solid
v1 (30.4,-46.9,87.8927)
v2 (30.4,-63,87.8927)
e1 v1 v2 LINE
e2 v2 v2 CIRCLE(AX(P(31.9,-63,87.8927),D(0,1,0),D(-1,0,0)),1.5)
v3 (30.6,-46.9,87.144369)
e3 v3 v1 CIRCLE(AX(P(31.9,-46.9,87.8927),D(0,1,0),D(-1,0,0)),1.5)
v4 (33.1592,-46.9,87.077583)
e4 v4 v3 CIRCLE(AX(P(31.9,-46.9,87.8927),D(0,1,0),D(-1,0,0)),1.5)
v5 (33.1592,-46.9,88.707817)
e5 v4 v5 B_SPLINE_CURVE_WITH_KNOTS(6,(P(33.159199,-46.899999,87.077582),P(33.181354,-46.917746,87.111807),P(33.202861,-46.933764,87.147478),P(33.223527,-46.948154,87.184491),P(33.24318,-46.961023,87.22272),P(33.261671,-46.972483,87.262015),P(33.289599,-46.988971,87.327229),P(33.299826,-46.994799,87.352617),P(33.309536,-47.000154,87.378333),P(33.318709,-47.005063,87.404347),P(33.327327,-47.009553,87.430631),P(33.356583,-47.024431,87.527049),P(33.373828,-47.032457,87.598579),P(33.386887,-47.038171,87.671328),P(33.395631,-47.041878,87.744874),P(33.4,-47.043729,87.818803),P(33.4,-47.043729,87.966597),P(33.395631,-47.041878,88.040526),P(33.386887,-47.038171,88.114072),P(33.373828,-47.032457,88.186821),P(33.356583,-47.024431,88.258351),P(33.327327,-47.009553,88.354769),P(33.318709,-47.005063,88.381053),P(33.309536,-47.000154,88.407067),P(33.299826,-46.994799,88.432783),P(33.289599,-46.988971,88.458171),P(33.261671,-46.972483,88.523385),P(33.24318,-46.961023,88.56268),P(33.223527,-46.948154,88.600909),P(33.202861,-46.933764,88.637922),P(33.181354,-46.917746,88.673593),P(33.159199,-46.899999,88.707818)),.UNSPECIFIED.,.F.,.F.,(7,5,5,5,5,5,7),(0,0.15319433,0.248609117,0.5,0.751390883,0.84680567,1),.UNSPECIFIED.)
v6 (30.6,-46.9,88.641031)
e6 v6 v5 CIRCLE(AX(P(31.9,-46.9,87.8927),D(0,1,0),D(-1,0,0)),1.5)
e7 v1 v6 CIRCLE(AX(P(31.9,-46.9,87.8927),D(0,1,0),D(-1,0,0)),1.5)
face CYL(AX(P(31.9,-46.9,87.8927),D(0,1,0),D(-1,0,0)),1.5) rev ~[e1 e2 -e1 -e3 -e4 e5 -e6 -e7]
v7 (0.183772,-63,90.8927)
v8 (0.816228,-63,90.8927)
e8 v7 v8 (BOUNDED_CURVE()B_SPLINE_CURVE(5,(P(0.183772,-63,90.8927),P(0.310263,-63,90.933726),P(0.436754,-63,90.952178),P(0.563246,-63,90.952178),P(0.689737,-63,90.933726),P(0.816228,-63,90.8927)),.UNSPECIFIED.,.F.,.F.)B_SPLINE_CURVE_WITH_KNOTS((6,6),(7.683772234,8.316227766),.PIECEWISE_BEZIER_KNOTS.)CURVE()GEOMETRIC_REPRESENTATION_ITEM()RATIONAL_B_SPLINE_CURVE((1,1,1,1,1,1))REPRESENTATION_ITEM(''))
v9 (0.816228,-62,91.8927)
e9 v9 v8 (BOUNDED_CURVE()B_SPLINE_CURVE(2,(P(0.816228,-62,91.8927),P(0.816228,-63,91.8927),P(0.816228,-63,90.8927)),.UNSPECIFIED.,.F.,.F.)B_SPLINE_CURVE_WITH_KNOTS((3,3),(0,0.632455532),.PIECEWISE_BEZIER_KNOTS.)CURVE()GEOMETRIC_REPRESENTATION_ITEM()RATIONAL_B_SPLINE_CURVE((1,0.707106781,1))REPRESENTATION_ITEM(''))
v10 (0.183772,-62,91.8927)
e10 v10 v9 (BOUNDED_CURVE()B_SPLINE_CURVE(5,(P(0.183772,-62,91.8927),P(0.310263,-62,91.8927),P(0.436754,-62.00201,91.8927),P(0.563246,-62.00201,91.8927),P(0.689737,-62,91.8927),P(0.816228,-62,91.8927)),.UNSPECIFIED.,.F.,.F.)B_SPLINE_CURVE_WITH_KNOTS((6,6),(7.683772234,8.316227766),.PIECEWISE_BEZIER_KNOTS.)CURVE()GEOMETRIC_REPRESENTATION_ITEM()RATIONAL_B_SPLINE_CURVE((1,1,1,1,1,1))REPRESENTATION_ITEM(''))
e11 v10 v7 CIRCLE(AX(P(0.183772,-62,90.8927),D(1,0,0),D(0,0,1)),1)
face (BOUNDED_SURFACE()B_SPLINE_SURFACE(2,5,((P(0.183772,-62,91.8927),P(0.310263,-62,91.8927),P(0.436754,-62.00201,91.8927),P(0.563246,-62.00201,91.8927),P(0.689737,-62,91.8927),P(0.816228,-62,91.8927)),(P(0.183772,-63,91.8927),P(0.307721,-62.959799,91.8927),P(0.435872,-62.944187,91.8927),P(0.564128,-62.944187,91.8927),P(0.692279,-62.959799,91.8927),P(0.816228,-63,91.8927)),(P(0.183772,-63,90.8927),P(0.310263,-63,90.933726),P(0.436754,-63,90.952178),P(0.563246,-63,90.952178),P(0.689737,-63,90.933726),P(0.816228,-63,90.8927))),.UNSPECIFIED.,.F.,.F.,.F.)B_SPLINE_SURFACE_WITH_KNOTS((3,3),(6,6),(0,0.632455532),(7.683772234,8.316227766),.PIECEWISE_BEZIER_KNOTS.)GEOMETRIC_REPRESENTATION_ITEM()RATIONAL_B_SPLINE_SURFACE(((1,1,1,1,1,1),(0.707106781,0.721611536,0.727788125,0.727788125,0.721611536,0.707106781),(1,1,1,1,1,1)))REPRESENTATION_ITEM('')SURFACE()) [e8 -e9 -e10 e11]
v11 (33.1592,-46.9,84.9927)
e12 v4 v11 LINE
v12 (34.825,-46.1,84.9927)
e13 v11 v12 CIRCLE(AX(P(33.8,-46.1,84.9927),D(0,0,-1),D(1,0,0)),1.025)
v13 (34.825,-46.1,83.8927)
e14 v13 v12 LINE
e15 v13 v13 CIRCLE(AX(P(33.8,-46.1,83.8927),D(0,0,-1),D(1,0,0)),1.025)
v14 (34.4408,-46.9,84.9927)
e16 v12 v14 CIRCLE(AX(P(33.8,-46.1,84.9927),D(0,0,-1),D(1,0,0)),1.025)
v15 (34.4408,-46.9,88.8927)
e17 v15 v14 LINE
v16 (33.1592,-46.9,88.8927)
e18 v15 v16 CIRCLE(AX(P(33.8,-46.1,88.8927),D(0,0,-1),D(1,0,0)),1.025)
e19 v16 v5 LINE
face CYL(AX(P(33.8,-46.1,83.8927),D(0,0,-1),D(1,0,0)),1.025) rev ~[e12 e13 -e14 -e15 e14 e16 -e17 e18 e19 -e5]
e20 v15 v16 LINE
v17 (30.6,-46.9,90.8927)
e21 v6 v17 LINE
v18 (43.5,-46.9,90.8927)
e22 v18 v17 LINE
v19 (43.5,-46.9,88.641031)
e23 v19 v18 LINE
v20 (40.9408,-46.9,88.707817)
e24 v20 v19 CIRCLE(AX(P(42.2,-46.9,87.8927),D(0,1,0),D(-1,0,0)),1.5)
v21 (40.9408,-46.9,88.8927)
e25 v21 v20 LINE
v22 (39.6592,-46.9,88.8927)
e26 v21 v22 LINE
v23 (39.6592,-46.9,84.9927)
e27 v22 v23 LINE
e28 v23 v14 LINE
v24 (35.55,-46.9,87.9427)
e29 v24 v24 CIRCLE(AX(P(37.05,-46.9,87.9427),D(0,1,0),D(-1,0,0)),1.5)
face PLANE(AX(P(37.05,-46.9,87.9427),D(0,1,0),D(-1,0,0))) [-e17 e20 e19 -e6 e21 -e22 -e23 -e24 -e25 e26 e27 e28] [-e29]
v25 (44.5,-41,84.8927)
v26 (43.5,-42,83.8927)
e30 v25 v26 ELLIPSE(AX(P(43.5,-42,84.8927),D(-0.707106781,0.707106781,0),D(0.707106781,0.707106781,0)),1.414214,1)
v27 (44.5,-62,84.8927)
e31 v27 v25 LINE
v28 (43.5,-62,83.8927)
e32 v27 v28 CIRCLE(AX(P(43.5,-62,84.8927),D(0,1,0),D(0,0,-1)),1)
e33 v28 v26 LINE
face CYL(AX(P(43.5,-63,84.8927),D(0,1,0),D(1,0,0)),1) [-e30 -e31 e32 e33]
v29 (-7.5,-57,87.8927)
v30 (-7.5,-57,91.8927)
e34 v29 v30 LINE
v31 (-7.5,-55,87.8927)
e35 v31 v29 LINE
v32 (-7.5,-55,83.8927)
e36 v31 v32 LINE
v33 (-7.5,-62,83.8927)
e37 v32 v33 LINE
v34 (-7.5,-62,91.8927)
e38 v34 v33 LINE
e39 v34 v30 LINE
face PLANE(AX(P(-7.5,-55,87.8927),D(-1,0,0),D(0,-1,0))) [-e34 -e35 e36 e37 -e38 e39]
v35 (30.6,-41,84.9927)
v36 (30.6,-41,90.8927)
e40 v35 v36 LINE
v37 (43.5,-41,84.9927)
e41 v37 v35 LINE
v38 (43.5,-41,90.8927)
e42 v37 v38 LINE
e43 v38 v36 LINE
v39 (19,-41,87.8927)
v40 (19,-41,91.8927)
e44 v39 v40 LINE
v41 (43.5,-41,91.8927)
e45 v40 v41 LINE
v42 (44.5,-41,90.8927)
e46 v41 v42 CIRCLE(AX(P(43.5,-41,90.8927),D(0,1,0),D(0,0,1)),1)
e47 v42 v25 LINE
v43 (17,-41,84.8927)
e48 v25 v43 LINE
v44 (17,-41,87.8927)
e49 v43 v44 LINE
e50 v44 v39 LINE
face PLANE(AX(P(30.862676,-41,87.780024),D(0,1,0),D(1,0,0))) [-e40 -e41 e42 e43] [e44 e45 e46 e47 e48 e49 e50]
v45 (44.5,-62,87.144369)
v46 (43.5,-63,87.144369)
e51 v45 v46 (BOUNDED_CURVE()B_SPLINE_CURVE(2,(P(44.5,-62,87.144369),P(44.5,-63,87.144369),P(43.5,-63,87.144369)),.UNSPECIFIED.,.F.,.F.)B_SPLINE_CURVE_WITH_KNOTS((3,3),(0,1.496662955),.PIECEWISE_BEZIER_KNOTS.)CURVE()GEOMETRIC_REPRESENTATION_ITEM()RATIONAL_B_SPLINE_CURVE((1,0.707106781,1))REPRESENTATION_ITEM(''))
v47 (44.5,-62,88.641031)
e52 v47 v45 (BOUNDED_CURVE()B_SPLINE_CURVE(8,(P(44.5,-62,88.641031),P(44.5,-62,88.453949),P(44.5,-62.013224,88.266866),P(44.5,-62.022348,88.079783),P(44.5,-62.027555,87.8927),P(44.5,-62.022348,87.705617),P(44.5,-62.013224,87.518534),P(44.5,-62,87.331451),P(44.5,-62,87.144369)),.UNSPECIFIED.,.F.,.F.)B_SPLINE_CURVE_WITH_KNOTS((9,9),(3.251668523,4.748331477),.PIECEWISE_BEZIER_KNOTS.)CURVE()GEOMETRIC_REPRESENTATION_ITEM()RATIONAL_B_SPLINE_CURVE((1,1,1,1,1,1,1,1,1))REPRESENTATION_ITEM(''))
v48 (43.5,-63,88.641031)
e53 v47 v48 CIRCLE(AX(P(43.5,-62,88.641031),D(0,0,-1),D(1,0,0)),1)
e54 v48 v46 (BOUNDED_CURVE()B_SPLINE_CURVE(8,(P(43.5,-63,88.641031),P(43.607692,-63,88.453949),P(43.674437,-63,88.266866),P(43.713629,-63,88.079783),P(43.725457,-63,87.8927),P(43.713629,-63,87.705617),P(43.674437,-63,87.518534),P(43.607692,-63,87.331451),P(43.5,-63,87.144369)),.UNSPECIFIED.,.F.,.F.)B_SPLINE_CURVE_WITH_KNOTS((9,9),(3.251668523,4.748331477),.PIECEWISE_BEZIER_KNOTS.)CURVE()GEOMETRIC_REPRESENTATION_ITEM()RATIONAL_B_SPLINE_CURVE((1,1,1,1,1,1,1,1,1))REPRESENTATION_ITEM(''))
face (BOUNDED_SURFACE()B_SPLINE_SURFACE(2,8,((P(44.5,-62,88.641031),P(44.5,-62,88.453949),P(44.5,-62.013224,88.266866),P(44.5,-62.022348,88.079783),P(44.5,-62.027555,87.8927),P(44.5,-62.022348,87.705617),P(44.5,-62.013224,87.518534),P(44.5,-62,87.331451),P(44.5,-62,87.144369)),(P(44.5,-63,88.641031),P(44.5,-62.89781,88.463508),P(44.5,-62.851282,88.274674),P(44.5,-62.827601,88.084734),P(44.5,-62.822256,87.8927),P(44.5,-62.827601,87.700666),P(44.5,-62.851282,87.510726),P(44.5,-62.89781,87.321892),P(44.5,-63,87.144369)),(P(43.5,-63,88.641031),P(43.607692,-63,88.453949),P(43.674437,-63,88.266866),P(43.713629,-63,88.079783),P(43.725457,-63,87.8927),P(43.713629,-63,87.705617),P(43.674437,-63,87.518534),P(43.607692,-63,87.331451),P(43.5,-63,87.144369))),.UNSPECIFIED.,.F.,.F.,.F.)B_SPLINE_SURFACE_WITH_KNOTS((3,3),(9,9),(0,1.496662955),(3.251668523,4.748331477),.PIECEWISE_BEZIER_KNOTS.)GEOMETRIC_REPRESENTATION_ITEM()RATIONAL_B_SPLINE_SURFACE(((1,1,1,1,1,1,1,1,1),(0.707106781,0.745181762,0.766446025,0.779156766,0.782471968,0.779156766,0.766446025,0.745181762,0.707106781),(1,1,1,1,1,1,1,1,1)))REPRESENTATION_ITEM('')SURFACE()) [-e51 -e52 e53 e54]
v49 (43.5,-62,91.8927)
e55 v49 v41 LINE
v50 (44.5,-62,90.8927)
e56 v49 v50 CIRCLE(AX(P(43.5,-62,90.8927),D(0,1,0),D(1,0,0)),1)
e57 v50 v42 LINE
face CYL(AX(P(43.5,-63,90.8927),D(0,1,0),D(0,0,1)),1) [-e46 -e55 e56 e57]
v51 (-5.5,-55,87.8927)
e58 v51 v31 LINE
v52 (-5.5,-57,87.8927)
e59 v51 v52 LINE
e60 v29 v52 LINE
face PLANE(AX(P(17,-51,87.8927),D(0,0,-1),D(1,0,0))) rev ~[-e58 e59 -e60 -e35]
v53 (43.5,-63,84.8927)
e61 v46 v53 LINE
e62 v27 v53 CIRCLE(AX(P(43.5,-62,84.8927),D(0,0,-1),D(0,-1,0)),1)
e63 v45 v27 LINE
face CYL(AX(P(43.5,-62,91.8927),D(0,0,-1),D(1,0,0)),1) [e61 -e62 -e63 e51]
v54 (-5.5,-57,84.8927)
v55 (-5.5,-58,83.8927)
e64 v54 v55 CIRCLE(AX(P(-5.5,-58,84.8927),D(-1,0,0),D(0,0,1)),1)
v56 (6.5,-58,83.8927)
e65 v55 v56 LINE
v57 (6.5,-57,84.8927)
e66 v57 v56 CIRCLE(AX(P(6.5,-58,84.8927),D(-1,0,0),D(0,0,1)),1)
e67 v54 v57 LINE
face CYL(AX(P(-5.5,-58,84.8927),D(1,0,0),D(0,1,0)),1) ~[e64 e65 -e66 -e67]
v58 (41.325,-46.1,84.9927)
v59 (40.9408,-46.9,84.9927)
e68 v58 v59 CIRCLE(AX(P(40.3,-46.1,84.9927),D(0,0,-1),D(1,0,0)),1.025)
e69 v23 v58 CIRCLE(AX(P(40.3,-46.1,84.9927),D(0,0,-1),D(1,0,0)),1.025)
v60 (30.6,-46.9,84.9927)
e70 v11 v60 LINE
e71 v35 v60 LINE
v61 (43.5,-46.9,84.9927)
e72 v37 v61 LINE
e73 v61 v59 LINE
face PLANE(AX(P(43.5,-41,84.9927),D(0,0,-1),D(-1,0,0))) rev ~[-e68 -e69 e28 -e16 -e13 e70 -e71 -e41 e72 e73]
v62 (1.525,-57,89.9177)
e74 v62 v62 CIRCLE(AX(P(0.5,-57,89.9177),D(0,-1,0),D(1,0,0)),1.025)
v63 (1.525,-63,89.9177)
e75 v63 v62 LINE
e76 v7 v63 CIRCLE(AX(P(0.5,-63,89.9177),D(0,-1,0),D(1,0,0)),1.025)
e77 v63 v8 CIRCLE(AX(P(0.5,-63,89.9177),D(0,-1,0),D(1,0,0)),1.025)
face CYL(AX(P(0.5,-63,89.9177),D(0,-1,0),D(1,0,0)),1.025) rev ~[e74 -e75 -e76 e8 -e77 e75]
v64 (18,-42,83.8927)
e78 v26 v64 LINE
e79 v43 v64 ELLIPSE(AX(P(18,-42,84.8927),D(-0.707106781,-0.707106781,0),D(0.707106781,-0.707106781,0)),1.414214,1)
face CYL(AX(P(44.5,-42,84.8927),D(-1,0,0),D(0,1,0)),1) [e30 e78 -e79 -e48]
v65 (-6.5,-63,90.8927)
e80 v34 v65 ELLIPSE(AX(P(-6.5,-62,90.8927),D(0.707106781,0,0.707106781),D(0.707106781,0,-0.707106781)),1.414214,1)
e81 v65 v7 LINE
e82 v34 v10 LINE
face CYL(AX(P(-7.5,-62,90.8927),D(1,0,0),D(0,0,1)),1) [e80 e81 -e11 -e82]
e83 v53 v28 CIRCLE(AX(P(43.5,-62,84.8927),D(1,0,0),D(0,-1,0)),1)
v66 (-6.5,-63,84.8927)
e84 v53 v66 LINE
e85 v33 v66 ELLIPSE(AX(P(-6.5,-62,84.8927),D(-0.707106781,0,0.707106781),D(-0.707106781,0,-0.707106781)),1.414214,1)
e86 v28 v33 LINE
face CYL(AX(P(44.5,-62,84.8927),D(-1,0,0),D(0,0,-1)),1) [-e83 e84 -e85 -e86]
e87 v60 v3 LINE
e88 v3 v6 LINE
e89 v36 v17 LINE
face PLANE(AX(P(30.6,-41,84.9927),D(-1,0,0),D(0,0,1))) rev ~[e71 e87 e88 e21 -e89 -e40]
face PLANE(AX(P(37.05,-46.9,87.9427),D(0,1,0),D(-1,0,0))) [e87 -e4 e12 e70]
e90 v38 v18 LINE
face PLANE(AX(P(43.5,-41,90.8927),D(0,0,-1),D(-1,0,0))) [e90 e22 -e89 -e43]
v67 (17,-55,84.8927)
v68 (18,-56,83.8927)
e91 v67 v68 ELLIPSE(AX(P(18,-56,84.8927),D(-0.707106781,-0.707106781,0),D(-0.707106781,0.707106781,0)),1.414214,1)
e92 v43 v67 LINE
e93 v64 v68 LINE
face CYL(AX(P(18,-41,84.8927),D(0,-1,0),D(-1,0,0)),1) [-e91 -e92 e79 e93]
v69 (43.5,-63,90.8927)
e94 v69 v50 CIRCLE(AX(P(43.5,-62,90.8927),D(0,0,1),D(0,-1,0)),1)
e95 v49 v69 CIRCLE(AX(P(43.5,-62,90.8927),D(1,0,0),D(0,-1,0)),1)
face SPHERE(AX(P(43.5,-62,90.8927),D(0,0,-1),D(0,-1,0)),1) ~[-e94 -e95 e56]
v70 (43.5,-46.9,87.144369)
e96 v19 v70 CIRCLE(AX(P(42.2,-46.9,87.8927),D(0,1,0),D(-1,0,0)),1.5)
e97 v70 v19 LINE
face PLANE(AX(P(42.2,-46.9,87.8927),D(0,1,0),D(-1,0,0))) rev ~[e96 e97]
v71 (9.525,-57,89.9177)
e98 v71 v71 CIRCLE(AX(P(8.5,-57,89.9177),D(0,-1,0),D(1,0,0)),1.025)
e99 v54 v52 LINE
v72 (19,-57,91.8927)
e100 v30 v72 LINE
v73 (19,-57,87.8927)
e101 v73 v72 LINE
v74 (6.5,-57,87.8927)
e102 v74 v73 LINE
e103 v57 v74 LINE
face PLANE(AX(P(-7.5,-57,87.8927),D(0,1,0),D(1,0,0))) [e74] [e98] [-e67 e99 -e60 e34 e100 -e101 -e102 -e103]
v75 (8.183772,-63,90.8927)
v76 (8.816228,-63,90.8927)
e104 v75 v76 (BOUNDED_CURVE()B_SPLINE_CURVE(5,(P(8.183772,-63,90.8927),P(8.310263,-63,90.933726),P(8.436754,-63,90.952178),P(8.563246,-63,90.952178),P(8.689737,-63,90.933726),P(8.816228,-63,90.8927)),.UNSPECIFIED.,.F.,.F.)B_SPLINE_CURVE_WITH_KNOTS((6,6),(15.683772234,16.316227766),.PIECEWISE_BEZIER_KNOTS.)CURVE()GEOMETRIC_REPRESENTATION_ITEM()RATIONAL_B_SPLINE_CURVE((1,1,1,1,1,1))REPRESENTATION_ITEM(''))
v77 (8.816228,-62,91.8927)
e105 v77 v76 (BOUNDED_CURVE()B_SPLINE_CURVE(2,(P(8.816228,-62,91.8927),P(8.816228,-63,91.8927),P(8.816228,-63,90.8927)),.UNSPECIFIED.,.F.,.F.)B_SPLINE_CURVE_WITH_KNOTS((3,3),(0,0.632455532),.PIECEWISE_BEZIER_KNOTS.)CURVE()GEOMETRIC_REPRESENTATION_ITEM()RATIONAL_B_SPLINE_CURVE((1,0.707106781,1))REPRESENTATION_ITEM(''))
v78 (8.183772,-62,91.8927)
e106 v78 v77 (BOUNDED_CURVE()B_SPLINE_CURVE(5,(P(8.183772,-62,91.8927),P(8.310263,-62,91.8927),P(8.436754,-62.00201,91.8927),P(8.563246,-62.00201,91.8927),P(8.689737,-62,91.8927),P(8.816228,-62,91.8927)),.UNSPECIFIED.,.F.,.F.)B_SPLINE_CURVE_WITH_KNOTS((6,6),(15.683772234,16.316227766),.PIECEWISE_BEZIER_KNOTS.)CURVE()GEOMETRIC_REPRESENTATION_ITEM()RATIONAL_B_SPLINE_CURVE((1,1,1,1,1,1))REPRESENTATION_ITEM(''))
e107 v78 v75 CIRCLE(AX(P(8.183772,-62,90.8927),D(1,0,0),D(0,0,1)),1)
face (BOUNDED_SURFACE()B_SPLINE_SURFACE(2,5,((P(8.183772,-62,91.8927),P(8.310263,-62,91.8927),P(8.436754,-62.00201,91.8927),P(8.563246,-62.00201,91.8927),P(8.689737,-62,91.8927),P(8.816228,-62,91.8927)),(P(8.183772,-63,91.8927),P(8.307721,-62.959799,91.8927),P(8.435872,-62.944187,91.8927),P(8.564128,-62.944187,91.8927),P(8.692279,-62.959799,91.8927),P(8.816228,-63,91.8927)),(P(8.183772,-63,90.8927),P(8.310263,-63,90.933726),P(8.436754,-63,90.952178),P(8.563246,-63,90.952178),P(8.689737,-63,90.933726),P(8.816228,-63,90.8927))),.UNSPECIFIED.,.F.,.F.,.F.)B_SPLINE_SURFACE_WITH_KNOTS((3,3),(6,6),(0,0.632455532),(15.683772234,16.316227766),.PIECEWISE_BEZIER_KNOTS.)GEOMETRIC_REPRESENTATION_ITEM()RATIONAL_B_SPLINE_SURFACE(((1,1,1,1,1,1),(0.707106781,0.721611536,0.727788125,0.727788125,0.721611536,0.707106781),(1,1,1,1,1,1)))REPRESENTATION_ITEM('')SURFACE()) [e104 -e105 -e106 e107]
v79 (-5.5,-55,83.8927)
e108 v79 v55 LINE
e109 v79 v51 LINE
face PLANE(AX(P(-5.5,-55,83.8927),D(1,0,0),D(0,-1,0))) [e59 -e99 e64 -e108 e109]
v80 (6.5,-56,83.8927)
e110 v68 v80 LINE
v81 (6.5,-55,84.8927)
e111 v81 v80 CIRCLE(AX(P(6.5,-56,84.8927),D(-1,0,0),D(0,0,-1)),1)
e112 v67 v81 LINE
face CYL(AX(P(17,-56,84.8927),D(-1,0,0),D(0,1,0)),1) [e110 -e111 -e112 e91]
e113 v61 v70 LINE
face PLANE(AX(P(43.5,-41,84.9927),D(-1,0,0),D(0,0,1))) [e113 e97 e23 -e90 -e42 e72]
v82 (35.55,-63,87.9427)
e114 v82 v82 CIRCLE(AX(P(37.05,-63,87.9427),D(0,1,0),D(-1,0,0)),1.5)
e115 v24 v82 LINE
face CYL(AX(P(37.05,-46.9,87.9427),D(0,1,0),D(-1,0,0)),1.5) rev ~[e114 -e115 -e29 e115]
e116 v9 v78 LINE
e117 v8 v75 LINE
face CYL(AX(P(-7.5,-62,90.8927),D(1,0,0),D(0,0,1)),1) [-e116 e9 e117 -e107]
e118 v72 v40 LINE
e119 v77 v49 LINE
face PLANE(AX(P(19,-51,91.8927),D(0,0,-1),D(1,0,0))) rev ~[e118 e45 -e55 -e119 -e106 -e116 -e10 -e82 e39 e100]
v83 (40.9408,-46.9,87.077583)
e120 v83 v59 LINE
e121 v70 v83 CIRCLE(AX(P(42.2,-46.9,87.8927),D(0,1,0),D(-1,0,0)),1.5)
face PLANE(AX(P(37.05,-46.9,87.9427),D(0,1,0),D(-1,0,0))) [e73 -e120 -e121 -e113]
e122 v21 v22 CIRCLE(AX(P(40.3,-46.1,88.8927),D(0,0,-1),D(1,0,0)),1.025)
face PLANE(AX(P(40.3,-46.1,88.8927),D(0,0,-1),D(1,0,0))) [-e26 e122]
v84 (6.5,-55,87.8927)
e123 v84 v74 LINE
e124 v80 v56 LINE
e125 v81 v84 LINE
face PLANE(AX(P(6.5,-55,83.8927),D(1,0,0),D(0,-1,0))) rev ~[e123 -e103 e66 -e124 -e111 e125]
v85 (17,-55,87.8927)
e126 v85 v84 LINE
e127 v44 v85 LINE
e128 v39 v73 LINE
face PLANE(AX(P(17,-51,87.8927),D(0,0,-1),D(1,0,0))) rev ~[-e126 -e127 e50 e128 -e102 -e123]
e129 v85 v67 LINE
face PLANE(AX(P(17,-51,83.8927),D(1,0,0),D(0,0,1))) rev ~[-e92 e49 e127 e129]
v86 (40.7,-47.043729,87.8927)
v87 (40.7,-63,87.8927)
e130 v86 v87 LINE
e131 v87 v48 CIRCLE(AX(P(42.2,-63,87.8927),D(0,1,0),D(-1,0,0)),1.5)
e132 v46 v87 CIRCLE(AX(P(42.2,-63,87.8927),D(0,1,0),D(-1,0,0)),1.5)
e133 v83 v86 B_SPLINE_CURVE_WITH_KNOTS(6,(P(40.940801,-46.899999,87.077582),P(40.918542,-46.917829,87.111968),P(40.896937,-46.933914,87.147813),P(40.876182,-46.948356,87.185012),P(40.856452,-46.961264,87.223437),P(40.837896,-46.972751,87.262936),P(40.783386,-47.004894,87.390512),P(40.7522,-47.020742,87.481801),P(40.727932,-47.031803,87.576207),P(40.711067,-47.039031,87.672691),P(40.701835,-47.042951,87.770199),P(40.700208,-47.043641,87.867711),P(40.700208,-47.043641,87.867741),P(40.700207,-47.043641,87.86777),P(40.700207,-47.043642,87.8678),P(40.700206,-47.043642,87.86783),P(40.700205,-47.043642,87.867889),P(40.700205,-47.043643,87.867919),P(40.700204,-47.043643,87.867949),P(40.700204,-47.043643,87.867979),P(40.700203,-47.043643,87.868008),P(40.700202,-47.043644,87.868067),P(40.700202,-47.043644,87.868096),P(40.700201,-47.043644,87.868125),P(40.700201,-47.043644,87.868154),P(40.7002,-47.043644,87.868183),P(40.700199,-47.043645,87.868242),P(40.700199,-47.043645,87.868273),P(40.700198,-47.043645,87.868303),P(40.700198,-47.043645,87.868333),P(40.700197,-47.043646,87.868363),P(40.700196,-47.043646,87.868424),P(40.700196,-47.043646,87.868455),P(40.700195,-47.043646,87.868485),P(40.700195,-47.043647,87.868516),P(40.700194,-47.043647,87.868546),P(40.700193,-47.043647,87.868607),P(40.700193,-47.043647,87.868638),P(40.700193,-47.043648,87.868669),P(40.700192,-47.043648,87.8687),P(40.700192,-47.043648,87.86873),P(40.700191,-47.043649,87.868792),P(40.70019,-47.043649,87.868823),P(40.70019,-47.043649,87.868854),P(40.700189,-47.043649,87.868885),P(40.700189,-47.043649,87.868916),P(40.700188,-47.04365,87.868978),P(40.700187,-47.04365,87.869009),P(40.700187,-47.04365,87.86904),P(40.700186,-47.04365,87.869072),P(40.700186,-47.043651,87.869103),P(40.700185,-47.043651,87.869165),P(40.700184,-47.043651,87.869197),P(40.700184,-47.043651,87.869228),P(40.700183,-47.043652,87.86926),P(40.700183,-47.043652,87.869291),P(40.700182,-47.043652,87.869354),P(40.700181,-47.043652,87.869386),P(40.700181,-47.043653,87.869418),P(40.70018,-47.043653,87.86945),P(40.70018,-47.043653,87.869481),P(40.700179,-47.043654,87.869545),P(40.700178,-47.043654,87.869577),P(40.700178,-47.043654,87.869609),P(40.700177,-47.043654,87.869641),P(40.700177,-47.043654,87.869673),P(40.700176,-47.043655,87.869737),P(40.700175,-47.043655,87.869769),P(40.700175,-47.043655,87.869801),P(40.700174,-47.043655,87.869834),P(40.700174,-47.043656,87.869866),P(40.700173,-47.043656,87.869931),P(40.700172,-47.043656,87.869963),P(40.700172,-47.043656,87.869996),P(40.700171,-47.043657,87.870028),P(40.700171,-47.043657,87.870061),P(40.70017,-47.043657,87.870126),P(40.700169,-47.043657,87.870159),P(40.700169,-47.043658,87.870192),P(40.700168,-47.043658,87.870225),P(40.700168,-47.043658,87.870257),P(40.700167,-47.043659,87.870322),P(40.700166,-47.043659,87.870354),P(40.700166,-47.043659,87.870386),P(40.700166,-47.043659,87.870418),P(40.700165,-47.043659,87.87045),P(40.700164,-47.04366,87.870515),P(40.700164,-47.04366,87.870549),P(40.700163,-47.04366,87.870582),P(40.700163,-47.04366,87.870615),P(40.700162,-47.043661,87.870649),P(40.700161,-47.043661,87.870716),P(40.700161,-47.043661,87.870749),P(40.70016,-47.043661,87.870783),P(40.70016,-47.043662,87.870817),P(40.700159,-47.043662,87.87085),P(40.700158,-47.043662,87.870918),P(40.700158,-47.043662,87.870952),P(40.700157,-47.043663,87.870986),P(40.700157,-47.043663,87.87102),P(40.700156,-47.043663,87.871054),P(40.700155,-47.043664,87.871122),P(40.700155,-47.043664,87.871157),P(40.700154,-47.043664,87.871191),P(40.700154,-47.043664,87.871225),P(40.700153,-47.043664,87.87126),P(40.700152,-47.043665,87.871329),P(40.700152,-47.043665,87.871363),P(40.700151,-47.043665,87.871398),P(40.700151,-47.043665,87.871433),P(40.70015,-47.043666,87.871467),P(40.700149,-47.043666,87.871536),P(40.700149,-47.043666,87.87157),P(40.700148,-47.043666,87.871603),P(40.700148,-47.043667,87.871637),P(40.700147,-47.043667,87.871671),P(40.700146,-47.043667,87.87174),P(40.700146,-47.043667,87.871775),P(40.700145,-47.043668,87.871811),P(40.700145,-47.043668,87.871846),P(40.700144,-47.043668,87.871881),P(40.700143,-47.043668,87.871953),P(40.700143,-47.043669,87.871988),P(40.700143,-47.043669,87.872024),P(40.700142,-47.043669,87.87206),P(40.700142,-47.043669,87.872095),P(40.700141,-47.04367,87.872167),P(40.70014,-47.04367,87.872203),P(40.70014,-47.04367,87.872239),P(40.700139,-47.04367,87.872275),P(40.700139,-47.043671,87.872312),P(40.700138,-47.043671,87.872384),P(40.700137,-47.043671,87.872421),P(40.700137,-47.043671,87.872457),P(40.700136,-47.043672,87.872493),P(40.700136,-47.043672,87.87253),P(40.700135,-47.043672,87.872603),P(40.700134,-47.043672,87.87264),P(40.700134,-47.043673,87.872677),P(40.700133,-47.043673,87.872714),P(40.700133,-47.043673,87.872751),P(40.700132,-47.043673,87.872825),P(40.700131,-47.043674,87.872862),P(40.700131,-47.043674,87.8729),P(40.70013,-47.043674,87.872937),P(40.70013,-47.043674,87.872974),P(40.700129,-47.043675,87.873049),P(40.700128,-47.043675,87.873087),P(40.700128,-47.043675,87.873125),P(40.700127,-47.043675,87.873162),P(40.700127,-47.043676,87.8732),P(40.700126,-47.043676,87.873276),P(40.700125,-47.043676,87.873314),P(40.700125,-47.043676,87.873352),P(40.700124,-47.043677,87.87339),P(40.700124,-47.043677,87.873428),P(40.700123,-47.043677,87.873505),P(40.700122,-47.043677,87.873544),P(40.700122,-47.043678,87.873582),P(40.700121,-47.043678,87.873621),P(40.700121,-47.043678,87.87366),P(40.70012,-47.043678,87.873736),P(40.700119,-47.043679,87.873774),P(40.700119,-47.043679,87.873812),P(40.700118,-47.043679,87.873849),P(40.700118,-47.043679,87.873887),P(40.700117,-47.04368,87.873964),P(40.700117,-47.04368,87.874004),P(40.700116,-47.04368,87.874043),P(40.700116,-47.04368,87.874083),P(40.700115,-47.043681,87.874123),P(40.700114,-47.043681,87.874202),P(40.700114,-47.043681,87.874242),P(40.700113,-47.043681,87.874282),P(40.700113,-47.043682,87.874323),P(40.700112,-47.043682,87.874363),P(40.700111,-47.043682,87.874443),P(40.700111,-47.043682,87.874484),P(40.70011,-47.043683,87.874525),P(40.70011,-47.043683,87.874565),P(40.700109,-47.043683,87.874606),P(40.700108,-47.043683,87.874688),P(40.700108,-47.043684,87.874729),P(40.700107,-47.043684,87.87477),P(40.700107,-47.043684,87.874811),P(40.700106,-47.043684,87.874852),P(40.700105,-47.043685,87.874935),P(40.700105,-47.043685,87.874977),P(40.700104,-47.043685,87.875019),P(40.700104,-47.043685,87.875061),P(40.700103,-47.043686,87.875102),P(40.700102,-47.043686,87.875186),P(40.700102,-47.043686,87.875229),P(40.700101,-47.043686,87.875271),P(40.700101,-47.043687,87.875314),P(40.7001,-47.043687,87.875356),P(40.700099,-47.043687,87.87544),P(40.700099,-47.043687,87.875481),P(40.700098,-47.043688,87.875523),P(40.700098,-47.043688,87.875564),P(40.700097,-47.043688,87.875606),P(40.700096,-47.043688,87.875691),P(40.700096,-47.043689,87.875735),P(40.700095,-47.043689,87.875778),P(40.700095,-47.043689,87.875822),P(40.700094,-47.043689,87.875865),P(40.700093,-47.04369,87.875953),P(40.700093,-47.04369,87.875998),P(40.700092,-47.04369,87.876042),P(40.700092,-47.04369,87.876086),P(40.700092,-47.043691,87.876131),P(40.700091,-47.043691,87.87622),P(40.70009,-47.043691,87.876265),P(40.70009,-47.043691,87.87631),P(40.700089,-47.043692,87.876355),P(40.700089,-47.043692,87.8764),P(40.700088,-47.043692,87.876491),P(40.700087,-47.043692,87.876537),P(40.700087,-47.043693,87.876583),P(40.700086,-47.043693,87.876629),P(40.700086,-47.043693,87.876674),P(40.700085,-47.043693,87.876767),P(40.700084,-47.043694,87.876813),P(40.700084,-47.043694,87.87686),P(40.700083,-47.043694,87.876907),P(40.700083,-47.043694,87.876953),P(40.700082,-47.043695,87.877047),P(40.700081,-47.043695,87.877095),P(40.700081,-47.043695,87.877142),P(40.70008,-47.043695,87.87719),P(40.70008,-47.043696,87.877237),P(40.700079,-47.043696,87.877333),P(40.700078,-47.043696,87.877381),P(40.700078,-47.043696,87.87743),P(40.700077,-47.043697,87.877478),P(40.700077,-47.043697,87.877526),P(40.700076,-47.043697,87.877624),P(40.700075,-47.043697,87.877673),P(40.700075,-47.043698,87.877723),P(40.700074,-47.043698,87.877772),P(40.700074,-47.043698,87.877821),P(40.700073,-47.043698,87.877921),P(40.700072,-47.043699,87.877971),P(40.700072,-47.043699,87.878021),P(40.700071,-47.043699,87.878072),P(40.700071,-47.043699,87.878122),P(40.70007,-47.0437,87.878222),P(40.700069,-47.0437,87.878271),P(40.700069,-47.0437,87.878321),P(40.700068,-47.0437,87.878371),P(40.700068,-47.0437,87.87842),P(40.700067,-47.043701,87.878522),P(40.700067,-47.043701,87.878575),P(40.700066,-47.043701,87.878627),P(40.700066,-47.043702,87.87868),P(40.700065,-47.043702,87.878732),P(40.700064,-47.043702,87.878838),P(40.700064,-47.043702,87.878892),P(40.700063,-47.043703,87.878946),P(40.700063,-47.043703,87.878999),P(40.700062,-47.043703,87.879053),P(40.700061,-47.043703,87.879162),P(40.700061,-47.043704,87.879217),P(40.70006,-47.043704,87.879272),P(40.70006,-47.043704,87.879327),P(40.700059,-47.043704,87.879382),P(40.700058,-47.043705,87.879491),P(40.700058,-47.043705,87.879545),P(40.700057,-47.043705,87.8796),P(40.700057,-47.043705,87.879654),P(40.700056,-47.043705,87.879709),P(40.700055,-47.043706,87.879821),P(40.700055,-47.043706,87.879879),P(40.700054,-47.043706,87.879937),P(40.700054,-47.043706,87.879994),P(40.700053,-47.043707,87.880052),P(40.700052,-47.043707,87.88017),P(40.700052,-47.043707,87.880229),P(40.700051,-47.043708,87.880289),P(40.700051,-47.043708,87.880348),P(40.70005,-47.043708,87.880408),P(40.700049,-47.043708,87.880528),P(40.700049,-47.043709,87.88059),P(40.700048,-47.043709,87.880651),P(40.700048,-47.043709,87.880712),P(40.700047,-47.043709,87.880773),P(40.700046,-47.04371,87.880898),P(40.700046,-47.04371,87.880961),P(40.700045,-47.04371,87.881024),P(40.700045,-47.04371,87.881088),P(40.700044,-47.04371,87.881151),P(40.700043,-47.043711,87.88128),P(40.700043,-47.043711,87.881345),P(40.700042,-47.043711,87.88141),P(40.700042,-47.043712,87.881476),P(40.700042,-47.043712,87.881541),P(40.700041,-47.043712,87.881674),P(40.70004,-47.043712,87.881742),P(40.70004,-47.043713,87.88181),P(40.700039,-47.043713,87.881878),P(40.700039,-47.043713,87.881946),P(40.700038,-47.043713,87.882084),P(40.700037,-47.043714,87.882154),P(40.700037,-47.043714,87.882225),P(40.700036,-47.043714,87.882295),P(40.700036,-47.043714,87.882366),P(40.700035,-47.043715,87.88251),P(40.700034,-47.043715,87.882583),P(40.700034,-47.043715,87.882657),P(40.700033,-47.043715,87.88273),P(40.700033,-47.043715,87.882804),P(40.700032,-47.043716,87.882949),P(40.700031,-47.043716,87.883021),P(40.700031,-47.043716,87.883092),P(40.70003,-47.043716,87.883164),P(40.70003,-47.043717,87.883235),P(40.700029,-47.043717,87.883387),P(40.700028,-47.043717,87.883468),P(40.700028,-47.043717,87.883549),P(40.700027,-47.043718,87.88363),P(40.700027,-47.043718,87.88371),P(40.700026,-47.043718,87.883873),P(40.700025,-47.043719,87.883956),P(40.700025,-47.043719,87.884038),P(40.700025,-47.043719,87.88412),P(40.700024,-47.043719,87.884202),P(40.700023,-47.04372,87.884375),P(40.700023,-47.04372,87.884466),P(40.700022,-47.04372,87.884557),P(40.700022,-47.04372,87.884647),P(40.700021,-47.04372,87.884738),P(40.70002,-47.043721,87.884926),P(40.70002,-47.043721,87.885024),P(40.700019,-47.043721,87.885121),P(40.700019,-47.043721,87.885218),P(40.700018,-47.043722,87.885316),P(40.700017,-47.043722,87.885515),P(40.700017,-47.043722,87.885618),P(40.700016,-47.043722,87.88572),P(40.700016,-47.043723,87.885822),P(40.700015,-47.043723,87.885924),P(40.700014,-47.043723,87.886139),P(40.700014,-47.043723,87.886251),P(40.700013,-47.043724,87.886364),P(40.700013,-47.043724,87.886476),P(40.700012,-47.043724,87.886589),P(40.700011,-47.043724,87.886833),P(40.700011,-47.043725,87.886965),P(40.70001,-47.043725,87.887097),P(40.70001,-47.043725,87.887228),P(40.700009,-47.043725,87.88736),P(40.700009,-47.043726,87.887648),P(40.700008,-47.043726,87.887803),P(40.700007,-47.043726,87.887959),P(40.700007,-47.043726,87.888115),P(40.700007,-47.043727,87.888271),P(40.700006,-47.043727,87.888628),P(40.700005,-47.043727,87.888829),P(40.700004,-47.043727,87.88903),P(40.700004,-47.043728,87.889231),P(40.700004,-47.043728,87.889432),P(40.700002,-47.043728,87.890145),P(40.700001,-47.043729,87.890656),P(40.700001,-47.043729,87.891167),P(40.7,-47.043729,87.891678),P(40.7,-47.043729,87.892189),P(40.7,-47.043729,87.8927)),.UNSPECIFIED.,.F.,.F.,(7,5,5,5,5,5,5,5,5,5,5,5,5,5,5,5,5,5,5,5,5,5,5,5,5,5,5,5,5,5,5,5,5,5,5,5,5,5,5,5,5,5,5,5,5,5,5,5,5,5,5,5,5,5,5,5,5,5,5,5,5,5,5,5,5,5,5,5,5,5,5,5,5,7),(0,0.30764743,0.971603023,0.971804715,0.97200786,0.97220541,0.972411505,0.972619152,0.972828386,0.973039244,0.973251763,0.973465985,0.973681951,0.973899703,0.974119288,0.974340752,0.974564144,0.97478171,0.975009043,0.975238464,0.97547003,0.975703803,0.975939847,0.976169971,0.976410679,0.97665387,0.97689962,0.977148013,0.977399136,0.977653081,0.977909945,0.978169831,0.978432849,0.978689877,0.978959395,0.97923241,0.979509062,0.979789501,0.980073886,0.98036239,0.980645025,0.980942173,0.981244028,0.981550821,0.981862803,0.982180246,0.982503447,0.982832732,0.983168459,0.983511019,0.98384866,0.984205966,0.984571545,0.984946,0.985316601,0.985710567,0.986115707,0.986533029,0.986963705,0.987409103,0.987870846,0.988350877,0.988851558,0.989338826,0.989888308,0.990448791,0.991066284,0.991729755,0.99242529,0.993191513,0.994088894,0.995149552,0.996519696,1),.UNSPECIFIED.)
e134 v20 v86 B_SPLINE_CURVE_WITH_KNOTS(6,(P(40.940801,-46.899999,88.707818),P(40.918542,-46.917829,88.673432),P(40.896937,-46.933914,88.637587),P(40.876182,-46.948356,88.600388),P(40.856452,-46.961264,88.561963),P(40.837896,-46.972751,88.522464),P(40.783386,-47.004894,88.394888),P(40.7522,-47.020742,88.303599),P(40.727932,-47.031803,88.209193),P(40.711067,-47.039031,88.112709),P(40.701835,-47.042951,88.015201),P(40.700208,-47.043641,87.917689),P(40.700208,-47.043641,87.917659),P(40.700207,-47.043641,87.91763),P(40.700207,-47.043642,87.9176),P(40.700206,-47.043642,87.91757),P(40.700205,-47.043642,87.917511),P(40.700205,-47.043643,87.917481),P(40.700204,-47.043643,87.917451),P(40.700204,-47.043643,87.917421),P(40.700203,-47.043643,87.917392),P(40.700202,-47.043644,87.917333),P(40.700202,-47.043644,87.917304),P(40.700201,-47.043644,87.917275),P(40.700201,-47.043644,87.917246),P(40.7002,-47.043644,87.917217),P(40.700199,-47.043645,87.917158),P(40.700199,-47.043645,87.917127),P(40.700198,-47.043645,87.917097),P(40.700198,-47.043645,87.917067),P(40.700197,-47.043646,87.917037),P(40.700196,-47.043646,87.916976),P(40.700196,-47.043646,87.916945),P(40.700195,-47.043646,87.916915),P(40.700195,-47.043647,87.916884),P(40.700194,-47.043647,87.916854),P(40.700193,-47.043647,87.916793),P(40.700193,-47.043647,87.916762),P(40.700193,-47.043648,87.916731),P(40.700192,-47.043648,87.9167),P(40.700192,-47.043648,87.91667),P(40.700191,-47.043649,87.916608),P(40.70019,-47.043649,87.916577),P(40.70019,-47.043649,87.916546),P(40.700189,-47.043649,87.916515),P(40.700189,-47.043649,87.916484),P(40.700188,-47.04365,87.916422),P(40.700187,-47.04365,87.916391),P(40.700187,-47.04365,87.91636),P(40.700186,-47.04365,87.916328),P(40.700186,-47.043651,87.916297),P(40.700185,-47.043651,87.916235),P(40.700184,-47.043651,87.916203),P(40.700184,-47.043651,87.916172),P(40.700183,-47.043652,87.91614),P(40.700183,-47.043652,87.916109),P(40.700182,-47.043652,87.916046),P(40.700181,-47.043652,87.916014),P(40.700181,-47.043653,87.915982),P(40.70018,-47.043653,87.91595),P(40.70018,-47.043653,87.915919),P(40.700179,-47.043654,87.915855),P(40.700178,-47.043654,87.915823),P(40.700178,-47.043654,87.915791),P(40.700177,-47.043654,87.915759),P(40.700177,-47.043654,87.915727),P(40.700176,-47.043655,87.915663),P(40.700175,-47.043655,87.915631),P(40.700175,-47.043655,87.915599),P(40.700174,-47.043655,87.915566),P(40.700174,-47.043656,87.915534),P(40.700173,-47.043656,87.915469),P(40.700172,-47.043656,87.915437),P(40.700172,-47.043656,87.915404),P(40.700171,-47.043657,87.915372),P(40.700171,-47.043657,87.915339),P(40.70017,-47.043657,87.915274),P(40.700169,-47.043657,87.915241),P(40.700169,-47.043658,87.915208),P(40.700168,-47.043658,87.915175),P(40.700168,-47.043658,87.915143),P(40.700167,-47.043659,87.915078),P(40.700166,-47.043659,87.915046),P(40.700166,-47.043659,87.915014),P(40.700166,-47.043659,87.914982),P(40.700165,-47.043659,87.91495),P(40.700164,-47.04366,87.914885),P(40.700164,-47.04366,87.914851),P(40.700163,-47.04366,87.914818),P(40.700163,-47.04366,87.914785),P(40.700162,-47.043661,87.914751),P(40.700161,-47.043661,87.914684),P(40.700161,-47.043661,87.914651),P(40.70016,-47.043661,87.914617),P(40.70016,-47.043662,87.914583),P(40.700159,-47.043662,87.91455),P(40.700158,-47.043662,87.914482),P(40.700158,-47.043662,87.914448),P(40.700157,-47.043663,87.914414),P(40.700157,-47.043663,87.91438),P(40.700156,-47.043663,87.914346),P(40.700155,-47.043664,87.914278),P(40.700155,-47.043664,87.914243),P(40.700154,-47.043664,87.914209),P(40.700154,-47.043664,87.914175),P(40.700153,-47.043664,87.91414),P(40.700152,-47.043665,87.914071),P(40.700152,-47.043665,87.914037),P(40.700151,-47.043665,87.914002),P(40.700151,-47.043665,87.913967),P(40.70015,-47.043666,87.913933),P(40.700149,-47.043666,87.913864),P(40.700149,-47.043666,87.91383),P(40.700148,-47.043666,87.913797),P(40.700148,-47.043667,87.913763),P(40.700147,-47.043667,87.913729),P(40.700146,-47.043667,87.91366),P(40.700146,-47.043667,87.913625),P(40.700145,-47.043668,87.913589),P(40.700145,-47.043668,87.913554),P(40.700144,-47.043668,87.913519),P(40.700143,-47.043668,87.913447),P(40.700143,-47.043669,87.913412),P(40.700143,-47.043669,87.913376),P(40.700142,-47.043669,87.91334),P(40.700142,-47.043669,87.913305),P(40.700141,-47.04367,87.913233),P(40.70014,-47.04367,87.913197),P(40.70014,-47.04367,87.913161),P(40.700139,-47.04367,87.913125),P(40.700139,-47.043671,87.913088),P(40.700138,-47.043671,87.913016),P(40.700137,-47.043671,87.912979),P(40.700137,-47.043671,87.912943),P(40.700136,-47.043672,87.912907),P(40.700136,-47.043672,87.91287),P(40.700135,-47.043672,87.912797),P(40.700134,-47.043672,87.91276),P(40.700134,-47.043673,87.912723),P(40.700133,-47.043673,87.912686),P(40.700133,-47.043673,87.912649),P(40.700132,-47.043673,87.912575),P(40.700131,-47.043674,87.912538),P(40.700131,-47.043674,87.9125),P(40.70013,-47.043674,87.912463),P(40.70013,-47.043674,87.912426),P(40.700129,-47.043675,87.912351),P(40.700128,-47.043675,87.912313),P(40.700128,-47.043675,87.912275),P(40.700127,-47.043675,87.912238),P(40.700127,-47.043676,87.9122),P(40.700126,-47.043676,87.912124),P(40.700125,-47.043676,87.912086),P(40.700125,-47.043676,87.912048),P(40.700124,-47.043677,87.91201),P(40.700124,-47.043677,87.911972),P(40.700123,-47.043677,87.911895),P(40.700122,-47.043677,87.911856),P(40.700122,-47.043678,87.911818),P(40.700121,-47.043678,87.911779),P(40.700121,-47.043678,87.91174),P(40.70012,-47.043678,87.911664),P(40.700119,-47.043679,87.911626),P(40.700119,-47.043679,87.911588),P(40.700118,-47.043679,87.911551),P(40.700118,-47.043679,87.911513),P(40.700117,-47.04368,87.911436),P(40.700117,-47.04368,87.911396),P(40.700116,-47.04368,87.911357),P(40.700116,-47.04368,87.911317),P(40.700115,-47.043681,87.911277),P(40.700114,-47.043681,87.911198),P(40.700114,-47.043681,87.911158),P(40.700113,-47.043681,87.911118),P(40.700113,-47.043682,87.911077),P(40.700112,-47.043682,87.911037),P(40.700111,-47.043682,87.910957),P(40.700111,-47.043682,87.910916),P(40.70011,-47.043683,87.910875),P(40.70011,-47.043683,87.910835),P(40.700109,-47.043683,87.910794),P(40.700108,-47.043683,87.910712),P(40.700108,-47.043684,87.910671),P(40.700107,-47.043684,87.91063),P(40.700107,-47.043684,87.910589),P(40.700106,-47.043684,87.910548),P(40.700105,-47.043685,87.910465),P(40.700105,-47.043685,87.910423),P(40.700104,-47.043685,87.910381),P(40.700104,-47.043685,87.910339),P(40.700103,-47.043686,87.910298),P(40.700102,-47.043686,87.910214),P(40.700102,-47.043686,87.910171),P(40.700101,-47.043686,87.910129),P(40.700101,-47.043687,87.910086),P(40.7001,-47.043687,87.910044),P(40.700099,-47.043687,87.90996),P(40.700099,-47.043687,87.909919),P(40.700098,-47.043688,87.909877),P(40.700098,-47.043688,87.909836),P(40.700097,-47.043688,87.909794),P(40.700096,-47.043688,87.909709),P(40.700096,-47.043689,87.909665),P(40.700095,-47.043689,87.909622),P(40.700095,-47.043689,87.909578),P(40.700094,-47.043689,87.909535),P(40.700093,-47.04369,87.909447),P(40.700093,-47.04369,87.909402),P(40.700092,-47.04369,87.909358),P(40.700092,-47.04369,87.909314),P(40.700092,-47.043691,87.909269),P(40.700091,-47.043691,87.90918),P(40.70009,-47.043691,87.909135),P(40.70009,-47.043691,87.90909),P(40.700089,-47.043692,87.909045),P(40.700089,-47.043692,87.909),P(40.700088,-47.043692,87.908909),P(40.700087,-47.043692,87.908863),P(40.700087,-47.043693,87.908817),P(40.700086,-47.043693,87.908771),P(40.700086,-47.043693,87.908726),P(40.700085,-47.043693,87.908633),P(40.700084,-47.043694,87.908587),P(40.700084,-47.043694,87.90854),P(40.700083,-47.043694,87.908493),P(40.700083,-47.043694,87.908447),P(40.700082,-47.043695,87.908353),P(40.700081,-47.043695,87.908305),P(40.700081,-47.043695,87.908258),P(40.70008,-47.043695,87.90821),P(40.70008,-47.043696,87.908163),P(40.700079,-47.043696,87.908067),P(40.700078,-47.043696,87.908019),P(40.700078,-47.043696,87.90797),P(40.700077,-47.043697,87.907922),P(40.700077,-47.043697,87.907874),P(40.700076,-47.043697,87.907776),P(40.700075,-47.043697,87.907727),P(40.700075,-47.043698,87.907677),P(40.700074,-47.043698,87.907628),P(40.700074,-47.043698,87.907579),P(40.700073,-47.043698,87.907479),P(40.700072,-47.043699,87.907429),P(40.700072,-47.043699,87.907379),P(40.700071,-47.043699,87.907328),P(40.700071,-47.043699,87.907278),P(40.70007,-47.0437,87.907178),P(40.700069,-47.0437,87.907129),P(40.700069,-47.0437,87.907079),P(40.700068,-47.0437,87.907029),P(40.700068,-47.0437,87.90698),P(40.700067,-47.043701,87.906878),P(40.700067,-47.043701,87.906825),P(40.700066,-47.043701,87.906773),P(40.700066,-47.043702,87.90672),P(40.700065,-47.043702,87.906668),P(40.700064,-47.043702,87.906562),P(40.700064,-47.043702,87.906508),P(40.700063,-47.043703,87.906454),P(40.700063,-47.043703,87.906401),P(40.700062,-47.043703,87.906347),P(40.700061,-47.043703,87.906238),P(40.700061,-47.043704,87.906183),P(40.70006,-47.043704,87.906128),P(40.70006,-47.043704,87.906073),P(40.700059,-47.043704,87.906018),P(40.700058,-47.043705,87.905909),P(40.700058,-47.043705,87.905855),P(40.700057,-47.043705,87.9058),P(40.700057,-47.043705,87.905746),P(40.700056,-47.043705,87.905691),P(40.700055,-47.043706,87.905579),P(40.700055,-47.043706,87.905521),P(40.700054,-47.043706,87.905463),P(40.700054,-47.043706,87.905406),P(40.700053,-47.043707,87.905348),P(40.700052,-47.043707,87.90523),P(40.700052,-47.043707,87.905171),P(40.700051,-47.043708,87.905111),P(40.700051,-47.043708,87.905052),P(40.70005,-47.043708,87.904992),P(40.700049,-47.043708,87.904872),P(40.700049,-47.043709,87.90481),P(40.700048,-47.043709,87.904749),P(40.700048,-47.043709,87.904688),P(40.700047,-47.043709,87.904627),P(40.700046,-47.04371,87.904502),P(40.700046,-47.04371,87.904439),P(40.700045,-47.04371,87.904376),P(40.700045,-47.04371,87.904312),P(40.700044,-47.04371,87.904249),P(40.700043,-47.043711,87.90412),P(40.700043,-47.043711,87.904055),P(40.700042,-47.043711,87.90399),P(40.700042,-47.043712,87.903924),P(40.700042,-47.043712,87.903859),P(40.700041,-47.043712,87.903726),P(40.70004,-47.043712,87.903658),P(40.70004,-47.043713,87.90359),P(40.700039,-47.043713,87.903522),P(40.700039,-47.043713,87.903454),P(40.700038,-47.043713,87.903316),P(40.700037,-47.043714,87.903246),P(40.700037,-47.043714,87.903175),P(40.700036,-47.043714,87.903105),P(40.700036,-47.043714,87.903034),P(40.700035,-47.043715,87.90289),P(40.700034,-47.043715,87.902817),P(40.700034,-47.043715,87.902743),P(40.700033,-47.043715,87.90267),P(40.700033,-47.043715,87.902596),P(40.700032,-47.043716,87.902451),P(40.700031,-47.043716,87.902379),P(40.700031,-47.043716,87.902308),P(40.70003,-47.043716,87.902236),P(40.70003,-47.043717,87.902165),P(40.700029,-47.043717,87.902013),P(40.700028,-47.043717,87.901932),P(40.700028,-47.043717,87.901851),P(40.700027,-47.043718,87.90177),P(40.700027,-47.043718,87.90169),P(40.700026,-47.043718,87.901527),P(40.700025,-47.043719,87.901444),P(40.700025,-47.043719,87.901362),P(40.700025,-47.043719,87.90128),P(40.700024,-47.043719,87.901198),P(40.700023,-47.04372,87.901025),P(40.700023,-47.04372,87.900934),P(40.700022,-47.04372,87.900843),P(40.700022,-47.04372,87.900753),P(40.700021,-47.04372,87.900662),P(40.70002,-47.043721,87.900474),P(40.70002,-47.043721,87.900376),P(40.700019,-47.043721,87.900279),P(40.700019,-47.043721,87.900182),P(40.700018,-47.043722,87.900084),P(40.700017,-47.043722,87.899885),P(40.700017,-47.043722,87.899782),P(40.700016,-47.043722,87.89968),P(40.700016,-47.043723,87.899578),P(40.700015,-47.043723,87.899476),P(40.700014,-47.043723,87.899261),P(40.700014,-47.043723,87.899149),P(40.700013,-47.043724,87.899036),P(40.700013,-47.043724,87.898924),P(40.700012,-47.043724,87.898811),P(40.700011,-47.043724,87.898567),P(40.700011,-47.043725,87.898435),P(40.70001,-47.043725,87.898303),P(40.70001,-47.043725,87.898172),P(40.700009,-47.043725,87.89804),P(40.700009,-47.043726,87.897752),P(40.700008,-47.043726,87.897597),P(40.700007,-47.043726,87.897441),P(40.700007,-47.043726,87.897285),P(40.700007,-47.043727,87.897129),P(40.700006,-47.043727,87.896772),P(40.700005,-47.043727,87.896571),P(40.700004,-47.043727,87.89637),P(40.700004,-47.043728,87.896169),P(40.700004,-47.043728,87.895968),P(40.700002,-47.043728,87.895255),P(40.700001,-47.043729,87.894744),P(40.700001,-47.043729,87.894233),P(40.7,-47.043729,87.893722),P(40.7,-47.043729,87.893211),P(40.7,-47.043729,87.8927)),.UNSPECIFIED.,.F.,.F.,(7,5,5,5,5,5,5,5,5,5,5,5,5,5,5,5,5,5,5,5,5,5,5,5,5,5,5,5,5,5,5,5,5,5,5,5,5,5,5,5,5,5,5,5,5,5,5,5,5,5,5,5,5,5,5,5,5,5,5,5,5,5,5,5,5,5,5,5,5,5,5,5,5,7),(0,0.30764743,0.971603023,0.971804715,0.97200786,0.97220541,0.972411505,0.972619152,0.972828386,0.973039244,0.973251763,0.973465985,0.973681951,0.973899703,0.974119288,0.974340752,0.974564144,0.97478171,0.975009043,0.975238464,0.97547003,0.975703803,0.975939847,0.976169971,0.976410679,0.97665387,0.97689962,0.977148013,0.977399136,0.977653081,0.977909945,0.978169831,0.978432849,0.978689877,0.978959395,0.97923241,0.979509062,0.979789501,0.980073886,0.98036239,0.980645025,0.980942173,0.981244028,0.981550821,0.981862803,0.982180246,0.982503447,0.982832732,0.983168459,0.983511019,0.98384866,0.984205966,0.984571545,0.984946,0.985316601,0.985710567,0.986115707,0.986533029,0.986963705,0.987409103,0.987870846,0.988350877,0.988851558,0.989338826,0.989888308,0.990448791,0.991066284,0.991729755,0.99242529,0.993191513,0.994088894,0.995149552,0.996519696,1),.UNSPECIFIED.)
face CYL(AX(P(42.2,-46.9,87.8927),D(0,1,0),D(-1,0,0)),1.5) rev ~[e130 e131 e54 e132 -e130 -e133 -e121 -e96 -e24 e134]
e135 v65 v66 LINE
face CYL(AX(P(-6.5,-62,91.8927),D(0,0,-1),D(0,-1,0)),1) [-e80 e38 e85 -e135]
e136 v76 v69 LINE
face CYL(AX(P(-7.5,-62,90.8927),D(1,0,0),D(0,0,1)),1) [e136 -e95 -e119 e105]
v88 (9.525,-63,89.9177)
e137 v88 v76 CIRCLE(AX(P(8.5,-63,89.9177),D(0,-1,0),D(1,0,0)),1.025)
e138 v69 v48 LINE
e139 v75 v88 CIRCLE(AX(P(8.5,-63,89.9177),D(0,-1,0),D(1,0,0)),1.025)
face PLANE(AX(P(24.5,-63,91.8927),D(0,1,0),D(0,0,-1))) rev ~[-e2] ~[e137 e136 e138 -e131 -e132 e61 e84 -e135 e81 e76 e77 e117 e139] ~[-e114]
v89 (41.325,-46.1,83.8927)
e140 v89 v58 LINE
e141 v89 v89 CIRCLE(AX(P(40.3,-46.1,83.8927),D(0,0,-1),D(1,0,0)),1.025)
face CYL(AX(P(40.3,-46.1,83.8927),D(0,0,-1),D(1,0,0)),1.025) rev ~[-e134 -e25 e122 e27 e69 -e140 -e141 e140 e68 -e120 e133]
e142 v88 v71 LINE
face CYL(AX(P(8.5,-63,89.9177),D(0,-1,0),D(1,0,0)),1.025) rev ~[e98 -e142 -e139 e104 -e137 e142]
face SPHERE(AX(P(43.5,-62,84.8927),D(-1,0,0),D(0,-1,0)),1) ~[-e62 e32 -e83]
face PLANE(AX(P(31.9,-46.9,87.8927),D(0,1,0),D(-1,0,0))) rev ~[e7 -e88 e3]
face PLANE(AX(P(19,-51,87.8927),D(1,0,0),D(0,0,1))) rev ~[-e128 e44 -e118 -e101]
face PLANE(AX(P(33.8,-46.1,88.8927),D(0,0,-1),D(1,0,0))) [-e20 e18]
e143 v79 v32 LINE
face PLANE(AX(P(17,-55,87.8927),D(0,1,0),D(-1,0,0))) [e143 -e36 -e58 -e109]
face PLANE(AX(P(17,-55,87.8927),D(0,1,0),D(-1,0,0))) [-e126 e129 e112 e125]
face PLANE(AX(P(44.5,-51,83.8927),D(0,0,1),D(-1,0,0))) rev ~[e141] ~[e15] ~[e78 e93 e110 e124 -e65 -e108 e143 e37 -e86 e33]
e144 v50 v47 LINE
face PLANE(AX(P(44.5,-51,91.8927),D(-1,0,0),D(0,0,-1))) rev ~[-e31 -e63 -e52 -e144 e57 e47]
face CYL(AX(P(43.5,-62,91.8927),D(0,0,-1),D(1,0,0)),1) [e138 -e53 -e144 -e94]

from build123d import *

# Parameters (mm, degrees)
PAD011_DEPTH    = 4
PAD012_DEPTH    = 4
PAD012_FACE11_W = 12
PAD012_FACE11_H = 8
PAD013_DEPTH    = 20
PAD014_DEPTH    = 10
SKETCH037_W     = 12
SKETCH037_H     = 2
POCKET014_DEPTH = 5
SKETCH038_W     = 12.9
SKETCH038_H     = 5.9
POCKET015_DEPTH = 5.9
SKETCH039_R     = 1.5
POCKET016_DEPTH = 20
SKETCH040_R     = 1.025
POCKET017_DEPTH = 5
SKETCH041_R     = 1.025
POCKET018_DEPTH = 20
FILLET002_R     = 1


with BuildPart() as part:
    # Sketch035 → Pad011 (new body)
    with BuildSketch(Plane.XY):
        Polygon((-7.5, -57), (19, -57), (19, -51), (24.5, -51), (24.5, -63), (-7.5, -63), align=None)
    extrude(amount=PAD011_DEPTH)

    # Sketch036 (on Face7 of Pad011) → Pad012 (join)
    with BuildSketch(Plane(origin=(0, 0, 0), x_dir=(1, 0, 0), z_dir=(0, 0, -1))):
        Polygon((-7.5, 63), (24.5, 63), (24.5, 51), (17, 51), (17, 55), (-7.5, 55), align=None)
    extrude(amount=PAD012_DEPTH)

    # Pad012 Face11 → Pad013 (add)
    with BuildSketch(Plane(origin=(24.5, -57, 0), x_dir=(0, -1, 0), z_dir=(1, 0, 0))):
        Rectangle(PAD012_FACE11_W, PAD012_FACE11_H)
    extrude(amount=PAD013_DEPTH)

    # Pad013 Face11 → Pad014 (add)
    with BuildSketch(Plane(origin=(31.231132, -51, -0.075472), x_dir=(1, 0, 0), z_dir=(0, 1, 0))):
        Polygon((-12.231132, -0.075472), (-12.231132, -4.075472), (13.268868, -4.075472), (13.268868, 3.924528), (-14.231132, 3.924528), (-14.231132, -0.075472), align=None)
    extrude(amount=PAD014_DEPTH)

    # Sketch037 (on Face9 of Pad014) → Pocket014 (cut)
    with BuildSketch(Plane(origin=(0, 0, -4), x_dir=(1, 0, 0), z_dir=(0, 0, -1))):
        with Locations((0.5, 56)):
            Rectangle(SKETCH037_W, SKETCH037_H)
    extrude(amount=-POCKET014_DEPTH, mode=Mode.SUBTRACT)

    # Sketch038 (on Face10 of Pocket014) → Pocket015 (cut)
    with BuildSketch(Plane(origin=(0, -41, 0), x_dir=(-1, 0, 0), z_dir=(0, 1, 0))):
        with Locations((-37.05, 0.05)):
            Rectangle(SKETCH038_W, SKETCH038_H)
    extrude(amount=-POCKET015_DEPTH, mode=Mode.SUBTRACT)

    # Sketch039 (on Face20 of Pocket015) → Pocket016 (cut)
    with BuildSketch(Plane(origin=(0, -46.9, 0), x_dir=(-1, 0, 0), z_dir=(0, 1, 0))):
        with Locations((-42.2, 0)):
            Circle(SKETCH039_R)
        with Locations((-37.05, 0.05)):
            Circle(SKETCH039_R)
        with Locations((-31.9, 0)):
            Circle(SKETCH039_R)
    extrude(amount=-POCKET016_DEPTH, mode=Mode.SUBTRACT)

    # Sketch040 (on Face8 of Pocket016) → Pocket017 (cut)
    with BuildSketch(Plane(origin=(0, 0, -4), x_dir=(1, 0, 0), z_dir=(0, 0, -1))):
        with Locations((40.3, 46.1)):
            Circle(SKETCH040_R)
        with Locations((33.8, 46.1)):
            Circle(SKETCH040_R)
    extrude(amount=-POCKET017_DEPTH, mode=Mode.SUBTRACT)

    # Sketch041 (on Face19 of Pocket017) → Pocket018 (cut)
    with BuildSketch(Plane.XZ.offset(63)):
        with Locations((0.5, 2.025)):
            Circle(SKETCH041_R)
        with Locations((8.5, 2.025)):
            Circle(SKETCH041_R)
    extrude(amount=-POCKET018_DEPTH, mode=Mode.SUBTRACT)

    # Fillet002
    fillet002_edges = [part.edges().sort_by_distance(p)[0] for p in [
        (18.5, -63, -4),
        (44.5, -63, 0),
        (18.5, -63, 4),
        (-7.5, -63, 0),
        (44.5, -52, -4),
        (0.5, -57, -4),
        (11.75, -55, -4),
        (17, -48, -4),
        (30.75, -41, -4),
        (44.5, -52, 4),
    ]]
    fillet(fillet002_edges, radius=FILLET002_R)


with BuildPart() as part_1:
    # Body002 placement: moved
    add(part.part.moved(Location((0, 0, 87.8927))))


solid = part_1.part
